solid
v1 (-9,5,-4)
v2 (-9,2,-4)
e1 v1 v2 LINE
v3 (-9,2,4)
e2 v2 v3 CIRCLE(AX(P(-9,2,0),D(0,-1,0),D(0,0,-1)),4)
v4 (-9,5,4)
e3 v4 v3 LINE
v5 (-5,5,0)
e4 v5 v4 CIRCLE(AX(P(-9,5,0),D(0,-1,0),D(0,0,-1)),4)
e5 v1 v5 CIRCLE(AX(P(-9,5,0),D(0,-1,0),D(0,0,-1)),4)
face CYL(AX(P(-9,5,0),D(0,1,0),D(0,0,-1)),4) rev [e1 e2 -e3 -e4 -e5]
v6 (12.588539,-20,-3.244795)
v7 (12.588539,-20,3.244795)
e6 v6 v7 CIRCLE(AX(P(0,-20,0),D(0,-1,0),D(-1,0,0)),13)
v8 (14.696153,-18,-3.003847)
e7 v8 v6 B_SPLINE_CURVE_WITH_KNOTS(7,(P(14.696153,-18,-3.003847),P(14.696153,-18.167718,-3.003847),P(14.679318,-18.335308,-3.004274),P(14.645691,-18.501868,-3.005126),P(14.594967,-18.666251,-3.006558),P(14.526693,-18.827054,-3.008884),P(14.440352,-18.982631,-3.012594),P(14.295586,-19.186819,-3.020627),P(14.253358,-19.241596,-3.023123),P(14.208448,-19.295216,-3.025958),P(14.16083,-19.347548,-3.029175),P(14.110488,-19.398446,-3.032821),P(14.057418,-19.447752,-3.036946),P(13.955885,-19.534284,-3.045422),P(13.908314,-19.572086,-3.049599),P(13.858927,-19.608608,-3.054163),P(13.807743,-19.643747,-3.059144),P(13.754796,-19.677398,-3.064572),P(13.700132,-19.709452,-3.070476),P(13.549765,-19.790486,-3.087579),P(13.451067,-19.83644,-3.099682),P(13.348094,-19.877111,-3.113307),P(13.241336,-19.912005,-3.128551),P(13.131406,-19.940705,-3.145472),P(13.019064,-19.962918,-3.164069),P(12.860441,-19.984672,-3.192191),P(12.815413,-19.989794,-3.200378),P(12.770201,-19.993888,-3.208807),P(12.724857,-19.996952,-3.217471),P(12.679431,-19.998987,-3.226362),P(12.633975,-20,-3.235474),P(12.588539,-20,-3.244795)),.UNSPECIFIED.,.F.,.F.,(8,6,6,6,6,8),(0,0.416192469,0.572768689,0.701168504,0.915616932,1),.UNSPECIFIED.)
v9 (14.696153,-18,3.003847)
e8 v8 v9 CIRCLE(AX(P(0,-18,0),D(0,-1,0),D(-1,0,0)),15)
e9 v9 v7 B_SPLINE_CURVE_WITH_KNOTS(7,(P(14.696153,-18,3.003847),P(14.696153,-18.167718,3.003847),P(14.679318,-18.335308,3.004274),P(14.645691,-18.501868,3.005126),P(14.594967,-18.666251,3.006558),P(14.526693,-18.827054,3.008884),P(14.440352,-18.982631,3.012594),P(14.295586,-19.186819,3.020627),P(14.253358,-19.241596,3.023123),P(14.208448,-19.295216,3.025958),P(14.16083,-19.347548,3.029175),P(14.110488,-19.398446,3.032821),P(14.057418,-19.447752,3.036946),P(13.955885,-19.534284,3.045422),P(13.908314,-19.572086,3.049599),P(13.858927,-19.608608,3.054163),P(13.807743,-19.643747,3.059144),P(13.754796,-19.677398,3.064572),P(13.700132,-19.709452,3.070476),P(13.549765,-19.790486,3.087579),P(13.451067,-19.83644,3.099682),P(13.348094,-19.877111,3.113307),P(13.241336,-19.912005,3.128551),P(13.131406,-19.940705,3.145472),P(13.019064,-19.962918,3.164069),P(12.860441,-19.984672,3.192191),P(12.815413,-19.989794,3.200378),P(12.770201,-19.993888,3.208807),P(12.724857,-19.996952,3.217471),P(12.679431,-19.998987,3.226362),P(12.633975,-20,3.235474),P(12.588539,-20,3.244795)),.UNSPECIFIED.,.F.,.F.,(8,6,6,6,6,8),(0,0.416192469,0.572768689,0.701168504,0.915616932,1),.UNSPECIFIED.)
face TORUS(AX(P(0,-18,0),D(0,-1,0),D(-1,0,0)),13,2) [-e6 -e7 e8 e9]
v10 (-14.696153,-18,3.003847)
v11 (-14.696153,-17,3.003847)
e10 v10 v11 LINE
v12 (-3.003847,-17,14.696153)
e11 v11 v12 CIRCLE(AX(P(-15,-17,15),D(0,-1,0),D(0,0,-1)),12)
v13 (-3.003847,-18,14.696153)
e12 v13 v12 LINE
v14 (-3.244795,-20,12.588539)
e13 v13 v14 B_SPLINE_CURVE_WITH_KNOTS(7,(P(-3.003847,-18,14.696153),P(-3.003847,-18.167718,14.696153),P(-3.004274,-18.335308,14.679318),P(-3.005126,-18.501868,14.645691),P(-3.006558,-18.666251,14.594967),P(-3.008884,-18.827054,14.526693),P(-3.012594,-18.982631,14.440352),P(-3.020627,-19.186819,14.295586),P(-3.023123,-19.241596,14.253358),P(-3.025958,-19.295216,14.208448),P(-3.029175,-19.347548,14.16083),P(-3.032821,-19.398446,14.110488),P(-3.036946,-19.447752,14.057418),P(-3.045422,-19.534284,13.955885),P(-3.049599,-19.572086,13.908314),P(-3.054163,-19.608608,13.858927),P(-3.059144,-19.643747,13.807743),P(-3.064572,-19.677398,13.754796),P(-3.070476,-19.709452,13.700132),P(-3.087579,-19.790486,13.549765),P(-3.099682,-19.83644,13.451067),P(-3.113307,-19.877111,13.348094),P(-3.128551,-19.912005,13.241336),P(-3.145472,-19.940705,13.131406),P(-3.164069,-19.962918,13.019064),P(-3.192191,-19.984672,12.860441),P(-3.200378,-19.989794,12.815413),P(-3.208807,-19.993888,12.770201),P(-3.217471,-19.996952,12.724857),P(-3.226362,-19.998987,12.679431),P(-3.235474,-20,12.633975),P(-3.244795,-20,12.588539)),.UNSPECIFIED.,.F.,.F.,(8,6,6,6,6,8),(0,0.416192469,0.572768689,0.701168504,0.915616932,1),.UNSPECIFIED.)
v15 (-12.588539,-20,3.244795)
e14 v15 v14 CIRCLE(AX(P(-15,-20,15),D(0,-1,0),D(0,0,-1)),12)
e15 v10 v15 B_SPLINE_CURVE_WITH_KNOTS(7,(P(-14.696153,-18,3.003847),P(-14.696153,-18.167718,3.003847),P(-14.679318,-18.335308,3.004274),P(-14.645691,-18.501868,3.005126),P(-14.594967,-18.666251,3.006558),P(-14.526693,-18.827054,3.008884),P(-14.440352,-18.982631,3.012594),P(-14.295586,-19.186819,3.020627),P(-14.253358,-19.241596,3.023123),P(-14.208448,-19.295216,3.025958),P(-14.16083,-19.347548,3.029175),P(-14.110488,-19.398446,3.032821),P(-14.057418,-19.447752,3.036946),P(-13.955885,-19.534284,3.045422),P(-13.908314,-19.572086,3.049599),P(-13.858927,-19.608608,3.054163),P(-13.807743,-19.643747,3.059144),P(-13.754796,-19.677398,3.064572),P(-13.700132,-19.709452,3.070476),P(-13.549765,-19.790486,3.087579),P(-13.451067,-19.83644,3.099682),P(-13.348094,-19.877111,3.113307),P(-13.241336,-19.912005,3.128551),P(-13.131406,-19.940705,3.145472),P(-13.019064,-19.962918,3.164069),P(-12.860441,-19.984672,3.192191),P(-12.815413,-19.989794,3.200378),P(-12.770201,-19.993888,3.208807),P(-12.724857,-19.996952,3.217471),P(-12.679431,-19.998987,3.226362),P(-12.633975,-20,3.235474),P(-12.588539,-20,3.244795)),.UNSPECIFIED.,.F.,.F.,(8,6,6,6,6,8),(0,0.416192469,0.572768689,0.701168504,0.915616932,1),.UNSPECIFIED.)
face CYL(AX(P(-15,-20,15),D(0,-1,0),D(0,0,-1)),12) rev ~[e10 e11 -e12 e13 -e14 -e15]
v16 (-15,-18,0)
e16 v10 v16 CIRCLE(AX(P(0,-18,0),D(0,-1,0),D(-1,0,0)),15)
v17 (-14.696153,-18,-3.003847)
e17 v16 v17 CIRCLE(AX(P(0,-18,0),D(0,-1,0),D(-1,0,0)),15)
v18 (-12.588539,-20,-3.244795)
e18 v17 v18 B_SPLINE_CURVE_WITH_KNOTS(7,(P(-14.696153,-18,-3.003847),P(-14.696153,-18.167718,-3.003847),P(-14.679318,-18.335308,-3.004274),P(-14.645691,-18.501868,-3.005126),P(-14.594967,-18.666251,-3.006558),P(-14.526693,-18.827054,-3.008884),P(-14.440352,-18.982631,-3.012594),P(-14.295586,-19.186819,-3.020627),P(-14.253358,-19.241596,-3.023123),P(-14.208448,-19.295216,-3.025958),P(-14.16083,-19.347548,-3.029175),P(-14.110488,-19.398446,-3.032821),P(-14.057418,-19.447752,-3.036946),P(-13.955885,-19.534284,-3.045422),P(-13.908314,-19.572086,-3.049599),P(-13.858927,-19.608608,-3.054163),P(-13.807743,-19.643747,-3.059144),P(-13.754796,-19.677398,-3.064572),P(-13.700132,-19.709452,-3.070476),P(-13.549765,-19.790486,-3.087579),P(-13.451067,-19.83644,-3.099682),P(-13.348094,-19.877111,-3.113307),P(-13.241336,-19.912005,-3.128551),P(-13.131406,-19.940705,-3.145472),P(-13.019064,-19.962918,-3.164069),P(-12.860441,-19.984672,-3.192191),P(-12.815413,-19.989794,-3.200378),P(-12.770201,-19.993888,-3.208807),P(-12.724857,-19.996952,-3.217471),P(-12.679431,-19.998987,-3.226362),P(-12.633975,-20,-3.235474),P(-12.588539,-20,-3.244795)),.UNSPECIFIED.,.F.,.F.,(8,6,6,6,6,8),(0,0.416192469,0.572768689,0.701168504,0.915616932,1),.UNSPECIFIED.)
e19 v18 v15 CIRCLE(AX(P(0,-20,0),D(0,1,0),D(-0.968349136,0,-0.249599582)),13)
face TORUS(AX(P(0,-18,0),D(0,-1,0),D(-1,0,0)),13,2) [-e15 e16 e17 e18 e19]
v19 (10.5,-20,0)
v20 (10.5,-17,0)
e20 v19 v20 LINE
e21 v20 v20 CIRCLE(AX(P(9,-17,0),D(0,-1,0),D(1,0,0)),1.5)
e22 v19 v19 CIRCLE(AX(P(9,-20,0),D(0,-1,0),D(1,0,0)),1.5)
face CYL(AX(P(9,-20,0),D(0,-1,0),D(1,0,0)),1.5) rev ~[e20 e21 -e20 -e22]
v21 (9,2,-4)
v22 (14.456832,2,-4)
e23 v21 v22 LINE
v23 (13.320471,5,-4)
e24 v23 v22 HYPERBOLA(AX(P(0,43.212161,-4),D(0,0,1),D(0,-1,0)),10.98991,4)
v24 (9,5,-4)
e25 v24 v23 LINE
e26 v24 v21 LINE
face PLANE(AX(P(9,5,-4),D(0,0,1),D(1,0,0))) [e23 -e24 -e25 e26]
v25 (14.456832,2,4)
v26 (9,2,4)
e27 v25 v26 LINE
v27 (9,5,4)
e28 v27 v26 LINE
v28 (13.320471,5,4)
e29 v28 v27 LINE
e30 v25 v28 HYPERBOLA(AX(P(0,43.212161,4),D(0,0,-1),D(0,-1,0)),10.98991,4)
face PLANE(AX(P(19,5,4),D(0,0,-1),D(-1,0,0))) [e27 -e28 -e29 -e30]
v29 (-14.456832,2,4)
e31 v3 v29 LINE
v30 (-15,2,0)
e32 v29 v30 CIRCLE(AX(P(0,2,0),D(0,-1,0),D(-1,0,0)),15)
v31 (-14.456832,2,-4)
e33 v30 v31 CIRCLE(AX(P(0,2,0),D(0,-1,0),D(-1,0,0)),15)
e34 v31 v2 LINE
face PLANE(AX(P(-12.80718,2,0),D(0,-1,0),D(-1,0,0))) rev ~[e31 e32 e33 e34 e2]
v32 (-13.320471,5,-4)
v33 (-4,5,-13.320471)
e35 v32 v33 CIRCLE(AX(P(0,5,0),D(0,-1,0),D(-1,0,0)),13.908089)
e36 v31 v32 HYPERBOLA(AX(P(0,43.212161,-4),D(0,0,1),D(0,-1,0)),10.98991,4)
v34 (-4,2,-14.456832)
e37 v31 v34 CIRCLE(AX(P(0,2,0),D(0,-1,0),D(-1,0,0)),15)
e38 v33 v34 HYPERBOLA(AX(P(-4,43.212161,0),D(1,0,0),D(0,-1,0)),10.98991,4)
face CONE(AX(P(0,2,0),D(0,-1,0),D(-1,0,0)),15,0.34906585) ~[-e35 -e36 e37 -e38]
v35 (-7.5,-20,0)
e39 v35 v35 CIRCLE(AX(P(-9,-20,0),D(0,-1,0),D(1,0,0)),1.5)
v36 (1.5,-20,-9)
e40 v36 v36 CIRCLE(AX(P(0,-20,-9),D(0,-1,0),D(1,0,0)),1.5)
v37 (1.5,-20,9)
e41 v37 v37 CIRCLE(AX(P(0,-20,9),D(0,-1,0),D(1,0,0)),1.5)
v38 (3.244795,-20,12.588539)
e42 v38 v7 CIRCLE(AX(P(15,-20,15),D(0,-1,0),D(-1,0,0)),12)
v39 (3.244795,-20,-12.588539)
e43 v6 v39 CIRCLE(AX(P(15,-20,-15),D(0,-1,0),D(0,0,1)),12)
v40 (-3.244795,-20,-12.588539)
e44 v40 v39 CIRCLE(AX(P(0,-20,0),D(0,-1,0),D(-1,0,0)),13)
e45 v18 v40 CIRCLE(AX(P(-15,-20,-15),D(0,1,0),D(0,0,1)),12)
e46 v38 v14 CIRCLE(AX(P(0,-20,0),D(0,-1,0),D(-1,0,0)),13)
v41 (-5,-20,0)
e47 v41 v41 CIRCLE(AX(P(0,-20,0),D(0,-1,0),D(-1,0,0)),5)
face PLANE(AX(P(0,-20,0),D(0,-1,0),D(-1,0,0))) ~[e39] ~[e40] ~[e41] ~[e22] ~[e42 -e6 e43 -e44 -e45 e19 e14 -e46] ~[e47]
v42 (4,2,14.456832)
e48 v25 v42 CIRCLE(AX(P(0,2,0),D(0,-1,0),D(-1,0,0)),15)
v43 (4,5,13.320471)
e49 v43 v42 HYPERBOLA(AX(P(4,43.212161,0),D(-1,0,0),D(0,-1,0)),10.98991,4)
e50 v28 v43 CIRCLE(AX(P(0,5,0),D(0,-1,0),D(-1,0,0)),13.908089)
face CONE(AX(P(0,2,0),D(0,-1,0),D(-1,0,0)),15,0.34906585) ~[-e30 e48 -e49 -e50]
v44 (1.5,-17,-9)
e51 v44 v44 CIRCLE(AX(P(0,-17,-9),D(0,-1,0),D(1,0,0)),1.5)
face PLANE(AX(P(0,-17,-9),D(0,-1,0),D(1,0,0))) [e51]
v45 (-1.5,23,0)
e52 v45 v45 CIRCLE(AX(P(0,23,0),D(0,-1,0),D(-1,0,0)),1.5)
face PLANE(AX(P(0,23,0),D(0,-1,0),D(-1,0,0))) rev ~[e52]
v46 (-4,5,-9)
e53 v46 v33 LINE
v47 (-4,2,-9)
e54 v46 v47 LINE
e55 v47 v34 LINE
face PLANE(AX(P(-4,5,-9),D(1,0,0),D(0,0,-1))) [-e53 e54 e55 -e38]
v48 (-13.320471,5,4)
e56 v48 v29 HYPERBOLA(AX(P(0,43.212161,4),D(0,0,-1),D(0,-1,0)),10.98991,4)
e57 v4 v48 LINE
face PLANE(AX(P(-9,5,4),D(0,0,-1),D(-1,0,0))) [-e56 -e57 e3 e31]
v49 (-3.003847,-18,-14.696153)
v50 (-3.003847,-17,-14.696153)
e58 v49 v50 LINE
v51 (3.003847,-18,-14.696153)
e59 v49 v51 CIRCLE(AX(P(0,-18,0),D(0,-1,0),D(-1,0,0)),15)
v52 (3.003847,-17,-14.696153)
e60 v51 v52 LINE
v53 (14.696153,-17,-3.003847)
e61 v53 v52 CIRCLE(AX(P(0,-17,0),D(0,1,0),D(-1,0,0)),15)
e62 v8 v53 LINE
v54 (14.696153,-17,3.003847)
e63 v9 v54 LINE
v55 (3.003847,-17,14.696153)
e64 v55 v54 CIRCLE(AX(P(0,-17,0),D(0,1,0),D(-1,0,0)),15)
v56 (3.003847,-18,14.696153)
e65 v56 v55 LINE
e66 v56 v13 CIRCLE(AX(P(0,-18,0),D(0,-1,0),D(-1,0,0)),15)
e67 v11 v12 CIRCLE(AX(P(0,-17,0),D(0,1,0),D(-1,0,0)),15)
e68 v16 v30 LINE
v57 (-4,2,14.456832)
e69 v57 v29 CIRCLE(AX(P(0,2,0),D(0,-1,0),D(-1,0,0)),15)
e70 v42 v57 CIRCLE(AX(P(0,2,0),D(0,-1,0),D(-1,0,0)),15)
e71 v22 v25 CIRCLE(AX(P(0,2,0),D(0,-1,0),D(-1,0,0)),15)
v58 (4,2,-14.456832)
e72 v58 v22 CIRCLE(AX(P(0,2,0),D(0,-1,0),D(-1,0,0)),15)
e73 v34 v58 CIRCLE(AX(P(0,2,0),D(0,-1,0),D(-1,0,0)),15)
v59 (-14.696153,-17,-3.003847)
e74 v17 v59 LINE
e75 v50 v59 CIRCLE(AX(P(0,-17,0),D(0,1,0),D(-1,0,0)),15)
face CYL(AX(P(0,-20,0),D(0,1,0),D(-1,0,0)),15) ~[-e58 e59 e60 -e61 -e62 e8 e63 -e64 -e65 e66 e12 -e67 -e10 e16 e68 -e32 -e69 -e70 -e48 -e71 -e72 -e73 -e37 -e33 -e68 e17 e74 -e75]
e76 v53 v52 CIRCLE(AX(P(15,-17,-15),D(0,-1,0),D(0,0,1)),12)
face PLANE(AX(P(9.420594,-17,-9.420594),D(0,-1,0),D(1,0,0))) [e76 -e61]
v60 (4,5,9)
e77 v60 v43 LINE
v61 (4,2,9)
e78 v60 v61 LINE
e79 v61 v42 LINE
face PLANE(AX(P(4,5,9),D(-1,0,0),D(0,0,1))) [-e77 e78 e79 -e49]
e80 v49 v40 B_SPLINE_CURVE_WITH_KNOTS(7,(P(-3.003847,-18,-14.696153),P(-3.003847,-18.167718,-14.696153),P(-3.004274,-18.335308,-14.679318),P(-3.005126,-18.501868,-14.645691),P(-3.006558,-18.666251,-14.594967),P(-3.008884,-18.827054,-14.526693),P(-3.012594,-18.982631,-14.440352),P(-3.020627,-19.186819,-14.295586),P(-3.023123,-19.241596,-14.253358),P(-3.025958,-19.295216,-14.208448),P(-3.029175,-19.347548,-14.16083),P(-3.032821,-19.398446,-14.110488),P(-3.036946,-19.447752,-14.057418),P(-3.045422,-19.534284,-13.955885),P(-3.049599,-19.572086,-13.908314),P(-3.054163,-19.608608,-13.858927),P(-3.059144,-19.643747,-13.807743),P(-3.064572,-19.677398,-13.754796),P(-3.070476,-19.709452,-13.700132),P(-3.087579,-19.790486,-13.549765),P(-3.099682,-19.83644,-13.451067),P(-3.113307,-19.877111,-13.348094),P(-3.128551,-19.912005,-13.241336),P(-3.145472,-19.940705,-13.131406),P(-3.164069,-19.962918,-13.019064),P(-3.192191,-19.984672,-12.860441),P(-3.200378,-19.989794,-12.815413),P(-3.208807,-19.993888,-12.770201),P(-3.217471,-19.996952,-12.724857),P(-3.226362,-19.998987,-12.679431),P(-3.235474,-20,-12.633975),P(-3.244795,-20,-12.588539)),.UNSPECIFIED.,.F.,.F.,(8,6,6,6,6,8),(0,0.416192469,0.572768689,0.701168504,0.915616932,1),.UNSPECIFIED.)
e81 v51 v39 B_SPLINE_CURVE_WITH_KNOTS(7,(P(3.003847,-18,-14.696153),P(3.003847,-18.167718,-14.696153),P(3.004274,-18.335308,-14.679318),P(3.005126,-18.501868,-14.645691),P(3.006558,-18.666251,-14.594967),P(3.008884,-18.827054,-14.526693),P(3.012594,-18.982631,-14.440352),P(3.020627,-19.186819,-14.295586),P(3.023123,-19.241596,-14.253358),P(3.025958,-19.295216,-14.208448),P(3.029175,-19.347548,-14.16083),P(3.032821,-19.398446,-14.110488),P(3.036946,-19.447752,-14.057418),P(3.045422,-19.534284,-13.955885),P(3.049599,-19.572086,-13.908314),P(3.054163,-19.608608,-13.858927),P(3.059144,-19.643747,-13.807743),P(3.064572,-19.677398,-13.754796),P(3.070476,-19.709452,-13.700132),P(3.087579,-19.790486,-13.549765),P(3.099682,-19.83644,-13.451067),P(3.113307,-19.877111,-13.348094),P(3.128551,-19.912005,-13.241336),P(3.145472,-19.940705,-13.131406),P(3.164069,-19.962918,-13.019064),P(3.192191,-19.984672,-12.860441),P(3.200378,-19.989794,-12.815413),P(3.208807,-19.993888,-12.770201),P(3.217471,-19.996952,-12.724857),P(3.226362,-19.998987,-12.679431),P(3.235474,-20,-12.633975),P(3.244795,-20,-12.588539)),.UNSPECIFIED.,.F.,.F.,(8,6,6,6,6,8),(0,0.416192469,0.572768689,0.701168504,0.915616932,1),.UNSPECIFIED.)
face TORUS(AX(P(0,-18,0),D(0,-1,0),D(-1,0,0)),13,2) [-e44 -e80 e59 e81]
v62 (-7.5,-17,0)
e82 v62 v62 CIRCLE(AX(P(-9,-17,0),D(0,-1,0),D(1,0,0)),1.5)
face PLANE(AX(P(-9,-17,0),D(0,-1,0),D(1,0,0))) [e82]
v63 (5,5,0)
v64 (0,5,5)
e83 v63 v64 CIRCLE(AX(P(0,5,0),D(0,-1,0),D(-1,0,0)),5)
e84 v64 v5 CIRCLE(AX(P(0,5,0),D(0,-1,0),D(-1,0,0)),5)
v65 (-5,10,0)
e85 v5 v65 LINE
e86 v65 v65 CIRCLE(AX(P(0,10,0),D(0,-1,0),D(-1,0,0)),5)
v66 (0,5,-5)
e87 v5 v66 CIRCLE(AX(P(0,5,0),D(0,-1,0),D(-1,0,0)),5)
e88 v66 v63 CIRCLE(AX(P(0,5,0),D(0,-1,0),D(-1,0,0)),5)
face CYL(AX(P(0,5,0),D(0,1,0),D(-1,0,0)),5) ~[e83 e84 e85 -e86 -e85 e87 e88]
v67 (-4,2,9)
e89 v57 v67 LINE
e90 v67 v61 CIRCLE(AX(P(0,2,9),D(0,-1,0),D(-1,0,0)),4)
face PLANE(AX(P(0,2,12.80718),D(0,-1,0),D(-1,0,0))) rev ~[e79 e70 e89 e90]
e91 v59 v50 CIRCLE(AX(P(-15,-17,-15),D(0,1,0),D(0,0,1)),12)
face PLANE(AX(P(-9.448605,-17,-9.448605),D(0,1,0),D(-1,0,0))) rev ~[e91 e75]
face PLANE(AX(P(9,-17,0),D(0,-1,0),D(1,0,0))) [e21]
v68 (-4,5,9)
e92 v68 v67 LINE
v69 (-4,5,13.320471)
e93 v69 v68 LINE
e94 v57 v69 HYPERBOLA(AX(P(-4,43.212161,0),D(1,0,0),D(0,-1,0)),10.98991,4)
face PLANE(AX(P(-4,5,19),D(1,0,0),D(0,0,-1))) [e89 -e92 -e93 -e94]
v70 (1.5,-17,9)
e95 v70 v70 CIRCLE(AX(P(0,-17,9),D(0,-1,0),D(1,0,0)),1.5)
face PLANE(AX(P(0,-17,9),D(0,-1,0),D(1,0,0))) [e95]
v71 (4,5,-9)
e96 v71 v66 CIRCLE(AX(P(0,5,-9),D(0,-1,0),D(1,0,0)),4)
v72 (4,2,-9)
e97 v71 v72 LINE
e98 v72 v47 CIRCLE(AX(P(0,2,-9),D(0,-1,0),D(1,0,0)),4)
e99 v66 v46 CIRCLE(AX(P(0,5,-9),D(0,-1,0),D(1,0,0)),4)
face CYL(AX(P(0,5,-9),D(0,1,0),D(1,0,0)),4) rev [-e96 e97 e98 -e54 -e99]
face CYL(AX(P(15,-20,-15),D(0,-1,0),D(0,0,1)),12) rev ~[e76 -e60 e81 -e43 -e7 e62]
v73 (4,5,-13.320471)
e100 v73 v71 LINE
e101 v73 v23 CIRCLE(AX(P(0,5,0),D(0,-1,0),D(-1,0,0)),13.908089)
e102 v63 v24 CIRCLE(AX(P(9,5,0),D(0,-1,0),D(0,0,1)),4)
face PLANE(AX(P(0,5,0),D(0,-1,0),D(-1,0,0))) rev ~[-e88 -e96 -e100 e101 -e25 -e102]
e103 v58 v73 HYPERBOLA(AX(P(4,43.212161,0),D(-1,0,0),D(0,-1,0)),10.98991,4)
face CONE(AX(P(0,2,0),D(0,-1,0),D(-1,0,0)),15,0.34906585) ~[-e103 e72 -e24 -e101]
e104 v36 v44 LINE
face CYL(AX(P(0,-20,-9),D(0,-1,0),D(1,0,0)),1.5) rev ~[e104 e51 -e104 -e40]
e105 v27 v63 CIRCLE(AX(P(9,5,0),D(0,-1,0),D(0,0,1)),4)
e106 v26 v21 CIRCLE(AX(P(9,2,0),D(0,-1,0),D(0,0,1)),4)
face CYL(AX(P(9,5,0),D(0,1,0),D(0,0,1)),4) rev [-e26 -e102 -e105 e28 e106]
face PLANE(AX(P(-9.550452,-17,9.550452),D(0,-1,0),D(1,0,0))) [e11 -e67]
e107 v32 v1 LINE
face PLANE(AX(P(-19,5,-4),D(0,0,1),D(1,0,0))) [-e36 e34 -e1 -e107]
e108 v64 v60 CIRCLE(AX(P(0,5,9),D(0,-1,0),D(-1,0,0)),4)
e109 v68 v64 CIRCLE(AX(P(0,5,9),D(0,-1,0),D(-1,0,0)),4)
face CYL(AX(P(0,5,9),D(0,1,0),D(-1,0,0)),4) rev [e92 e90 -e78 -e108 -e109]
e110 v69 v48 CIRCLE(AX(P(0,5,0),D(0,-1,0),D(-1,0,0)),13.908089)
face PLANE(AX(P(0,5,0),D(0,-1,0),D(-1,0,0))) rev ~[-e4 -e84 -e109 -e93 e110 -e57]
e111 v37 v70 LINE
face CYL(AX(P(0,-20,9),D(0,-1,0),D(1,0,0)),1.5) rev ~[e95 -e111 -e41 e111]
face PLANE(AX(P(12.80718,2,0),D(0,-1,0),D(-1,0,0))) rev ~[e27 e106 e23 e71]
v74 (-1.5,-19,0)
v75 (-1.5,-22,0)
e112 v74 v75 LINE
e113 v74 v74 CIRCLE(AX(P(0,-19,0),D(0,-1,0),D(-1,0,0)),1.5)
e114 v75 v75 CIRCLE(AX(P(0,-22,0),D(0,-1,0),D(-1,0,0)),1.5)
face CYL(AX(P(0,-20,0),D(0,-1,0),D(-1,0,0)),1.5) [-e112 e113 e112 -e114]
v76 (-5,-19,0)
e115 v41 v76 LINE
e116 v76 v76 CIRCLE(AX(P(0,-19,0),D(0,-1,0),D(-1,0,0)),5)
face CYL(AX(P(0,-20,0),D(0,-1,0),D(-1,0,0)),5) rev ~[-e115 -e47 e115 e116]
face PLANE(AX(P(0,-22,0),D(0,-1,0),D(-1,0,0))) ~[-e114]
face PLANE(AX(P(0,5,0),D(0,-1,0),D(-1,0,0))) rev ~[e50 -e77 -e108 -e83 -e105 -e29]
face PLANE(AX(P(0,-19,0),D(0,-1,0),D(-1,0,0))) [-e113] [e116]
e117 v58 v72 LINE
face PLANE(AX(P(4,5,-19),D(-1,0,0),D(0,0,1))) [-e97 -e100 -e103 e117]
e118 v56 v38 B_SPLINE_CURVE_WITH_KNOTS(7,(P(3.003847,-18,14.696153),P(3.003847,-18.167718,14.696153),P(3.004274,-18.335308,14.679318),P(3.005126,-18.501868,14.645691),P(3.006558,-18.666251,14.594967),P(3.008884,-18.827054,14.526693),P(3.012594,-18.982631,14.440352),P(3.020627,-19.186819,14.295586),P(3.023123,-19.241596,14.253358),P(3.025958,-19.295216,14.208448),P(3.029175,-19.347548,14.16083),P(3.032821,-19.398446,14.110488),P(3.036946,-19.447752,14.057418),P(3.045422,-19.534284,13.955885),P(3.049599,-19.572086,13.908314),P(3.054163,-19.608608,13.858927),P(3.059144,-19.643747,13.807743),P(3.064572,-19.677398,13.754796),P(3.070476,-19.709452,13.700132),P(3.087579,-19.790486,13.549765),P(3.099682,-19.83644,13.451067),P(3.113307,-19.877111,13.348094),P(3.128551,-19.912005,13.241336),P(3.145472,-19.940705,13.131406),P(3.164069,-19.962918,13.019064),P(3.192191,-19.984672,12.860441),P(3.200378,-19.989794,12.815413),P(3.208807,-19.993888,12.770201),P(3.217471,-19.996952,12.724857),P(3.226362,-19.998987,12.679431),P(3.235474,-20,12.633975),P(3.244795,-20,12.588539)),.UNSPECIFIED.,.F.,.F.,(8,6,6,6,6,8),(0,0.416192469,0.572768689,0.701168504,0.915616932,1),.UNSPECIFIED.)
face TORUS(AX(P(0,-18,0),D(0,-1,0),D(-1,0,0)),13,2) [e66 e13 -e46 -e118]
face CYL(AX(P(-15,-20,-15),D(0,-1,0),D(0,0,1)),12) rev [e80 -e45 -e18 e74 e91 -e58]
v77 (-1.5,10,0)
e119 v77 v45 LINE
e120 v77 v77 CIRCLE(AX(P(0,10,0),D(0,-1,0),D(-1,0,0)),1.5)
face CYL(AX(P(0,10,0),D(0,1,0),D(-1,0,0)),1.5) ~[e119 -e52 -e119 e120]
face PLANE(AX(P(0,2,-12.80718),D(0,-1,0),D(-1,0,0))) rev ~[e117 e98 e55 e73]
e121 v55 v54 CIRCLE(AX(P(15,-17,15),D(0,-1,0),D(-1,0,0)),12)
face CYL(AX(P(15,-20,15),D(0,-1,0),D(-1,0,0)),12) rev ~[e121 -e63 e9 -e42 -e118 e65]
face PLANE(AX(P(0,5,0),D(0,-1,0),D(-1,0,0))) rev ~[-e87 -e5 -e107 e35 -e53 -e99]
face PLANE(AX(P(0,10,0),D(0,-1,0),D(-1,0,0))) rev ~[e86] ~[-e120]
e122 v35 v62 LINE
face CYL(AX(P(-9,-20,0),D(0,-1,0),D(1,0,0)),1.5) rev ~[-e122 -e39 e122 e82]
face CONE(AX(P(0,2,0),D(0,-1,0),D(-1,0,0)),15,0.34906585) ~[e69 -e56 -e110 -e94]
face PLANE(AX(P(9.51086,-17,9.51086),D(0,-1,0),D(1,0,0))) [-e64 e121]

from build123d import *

# Parameters (mm, degrees)
CHANFREIN1_SIZE         = 3
CHANFREIN1_SIZE2        = 1.091910703
CONG_1_R                = 2
ENL_V_MAT_EXTRU_1_DEPTH = 3
ESQUISSE3_R             = 1.5
ENL_V_MAT_EXTRU_2_DEPTH = 3
ESQUISSE4_R             = 5
ESQUISSE4_R_2           = 1.5
ENL_V_MAT_EXTRU_3_DEPTH = 1


with BuildPart() as part:
    # Esquisse1 → Révolution1 (revolve)
    with BuildSketch(Plane.XY):
        Polygon((0, 23), (0, -20), (0, -22), (-1.5, -22), (-1.5, -20), (-15, -20), (-15, 5), (-5, 5), (-5, 10), (-1.5, 10), (-1.5, 23), align=None)
    revolve(axis=Axis((0, 23, 0), (0, -1, 0)))

    # Chanfrein1
    chanfrein1_edges = [part.edges().sort_by_distance(p)[0] for p in [
        (15, 5, 0),
    ]]
    chanfrein1_side = [part.faces().sort_by_distance(p)[0] for p in [
        (15, -7.5, 0),
    ]]
    chamfer(chanfrein1_edges, length=CHANFREIN1_SIZE, length2=CHANFREIN1_SIZE2, reference=chanfrein1_side[0])

    # Congé1
    cong_1_edges = [part.edges().sort_by_distance(p)[0] for p in [
        (15, -20, 0),
    ]]
    fillet(cong_1_edges, radius=CONG_1_R)

    # Esquisse2 → Enlèv. mat.-Extru.1 (cut)
    with BuildSketch(Plane(origin=(0, 5, 0), x_dir=(1, 0, 0), z_dir=(0, 1, 0))):
        with BuildLine():
            Line((-4, 9), (-4, 19))
            Line((-4, 19), (4, 19))
            Line((4, 19), (4, 9))
            ThreePointArc((4, 9), (0, 5), (-4, 9))
        make_face()
        with BuildLine():
            Line((9, 4), (19, 4))
            Line((19, 4), (19, -4))
            Line((19, -4), (9, -4))
            ThreePointArc((9, -4), (5, 0), (9, 4))
        make_face()
        with BuildLine():
            Line((4, -9), (4, -19))
            Line((4, -19), (-4, -19))
            Line((-4, -19), (-4, -9))
            ThreePointArc((-4, -9), (0, -5), (4, -9))
        make_face()
        with BuildLine():
            Line((-9, -4), (-19, -4))
            Line((-19, -4), (-19, 4))
            Line((-19, 4), (-9, 4))
            ThreePointArc((-9, 4), (-5, 0), (-9, -4))
        make_face()
    extrude(amount=-ENL_V_MAT_EXTRU_1_DEPTH, mode=Mode.SUBTRACT)

    # Esquisse3 → Enlèv. mat.-Extru.2 (cut)
    with BuildSketch(Plane.XZ.offset(20)):
        with Locations((0, 9)):
            Circle(ESQUISSE3_R)
        with Locations((0, -9)):
            Circle(ESQUISSE3_R)
        with Locations((9, 0)):
            Circle(ESQUISSE3_R)
        with Locations((-9, 0)):
            Circle(ESQUISSE3_R)
        with BuildLine():
            ThreePointArc((-15, 3), (-6.514718626, 6.514718626), (-3, 15))
            ThreePointArc((-3, 15), (-12.991965185, 12.991965185), (-15, 3))
        make_face()
        with BuildLine():
            ThreePointArc((3, 15), (6.514718626, 6.514718626), (15, 3))
            ThreePointArc((15, 3), (12.889510499, 12.889510499), (3, 15))
        make_face()
        with BuildLine():
            ThreePointArc((15, -3), (6.514718626, -6.514718626), (3, -15))
            ThreePointArc((3, -15), (12.652903184, -12.652903184), (15, -3))
        make_face()
        with BuildLine():
            ThreePointArc((-15, -3), (-6.514718626, -6.514718626), (-3, -15))
            ThreePointArc((-3, -15), (-12.726788918, -12.726788918), (-15, -3))
        make_face()
    extrude(amount=-ENL_V_MAT_EXTRU_2_DEPTH, mode=Mode.SUBTRACT)

    # Esquisse4 → Enlèv. mat.-Extru.3 (cut)
    with BuildSketch(Plane.XZ.offset(20)):
        with Locations(Location((0, 0, 0), (0, 0, 180))):
            Circle(ESQUISSE4_R)
        with Locations(Location((0, 0, 0), (0, 0, 180))):
            Circle(ESQUISSE4_R_2, mode=Mode.SUBTRACT)
    extrude(amount=-ENL_V_MAT_EXTRU_3_DEPTH, mode=Mode.SUBTRACT)


solid = part.part
